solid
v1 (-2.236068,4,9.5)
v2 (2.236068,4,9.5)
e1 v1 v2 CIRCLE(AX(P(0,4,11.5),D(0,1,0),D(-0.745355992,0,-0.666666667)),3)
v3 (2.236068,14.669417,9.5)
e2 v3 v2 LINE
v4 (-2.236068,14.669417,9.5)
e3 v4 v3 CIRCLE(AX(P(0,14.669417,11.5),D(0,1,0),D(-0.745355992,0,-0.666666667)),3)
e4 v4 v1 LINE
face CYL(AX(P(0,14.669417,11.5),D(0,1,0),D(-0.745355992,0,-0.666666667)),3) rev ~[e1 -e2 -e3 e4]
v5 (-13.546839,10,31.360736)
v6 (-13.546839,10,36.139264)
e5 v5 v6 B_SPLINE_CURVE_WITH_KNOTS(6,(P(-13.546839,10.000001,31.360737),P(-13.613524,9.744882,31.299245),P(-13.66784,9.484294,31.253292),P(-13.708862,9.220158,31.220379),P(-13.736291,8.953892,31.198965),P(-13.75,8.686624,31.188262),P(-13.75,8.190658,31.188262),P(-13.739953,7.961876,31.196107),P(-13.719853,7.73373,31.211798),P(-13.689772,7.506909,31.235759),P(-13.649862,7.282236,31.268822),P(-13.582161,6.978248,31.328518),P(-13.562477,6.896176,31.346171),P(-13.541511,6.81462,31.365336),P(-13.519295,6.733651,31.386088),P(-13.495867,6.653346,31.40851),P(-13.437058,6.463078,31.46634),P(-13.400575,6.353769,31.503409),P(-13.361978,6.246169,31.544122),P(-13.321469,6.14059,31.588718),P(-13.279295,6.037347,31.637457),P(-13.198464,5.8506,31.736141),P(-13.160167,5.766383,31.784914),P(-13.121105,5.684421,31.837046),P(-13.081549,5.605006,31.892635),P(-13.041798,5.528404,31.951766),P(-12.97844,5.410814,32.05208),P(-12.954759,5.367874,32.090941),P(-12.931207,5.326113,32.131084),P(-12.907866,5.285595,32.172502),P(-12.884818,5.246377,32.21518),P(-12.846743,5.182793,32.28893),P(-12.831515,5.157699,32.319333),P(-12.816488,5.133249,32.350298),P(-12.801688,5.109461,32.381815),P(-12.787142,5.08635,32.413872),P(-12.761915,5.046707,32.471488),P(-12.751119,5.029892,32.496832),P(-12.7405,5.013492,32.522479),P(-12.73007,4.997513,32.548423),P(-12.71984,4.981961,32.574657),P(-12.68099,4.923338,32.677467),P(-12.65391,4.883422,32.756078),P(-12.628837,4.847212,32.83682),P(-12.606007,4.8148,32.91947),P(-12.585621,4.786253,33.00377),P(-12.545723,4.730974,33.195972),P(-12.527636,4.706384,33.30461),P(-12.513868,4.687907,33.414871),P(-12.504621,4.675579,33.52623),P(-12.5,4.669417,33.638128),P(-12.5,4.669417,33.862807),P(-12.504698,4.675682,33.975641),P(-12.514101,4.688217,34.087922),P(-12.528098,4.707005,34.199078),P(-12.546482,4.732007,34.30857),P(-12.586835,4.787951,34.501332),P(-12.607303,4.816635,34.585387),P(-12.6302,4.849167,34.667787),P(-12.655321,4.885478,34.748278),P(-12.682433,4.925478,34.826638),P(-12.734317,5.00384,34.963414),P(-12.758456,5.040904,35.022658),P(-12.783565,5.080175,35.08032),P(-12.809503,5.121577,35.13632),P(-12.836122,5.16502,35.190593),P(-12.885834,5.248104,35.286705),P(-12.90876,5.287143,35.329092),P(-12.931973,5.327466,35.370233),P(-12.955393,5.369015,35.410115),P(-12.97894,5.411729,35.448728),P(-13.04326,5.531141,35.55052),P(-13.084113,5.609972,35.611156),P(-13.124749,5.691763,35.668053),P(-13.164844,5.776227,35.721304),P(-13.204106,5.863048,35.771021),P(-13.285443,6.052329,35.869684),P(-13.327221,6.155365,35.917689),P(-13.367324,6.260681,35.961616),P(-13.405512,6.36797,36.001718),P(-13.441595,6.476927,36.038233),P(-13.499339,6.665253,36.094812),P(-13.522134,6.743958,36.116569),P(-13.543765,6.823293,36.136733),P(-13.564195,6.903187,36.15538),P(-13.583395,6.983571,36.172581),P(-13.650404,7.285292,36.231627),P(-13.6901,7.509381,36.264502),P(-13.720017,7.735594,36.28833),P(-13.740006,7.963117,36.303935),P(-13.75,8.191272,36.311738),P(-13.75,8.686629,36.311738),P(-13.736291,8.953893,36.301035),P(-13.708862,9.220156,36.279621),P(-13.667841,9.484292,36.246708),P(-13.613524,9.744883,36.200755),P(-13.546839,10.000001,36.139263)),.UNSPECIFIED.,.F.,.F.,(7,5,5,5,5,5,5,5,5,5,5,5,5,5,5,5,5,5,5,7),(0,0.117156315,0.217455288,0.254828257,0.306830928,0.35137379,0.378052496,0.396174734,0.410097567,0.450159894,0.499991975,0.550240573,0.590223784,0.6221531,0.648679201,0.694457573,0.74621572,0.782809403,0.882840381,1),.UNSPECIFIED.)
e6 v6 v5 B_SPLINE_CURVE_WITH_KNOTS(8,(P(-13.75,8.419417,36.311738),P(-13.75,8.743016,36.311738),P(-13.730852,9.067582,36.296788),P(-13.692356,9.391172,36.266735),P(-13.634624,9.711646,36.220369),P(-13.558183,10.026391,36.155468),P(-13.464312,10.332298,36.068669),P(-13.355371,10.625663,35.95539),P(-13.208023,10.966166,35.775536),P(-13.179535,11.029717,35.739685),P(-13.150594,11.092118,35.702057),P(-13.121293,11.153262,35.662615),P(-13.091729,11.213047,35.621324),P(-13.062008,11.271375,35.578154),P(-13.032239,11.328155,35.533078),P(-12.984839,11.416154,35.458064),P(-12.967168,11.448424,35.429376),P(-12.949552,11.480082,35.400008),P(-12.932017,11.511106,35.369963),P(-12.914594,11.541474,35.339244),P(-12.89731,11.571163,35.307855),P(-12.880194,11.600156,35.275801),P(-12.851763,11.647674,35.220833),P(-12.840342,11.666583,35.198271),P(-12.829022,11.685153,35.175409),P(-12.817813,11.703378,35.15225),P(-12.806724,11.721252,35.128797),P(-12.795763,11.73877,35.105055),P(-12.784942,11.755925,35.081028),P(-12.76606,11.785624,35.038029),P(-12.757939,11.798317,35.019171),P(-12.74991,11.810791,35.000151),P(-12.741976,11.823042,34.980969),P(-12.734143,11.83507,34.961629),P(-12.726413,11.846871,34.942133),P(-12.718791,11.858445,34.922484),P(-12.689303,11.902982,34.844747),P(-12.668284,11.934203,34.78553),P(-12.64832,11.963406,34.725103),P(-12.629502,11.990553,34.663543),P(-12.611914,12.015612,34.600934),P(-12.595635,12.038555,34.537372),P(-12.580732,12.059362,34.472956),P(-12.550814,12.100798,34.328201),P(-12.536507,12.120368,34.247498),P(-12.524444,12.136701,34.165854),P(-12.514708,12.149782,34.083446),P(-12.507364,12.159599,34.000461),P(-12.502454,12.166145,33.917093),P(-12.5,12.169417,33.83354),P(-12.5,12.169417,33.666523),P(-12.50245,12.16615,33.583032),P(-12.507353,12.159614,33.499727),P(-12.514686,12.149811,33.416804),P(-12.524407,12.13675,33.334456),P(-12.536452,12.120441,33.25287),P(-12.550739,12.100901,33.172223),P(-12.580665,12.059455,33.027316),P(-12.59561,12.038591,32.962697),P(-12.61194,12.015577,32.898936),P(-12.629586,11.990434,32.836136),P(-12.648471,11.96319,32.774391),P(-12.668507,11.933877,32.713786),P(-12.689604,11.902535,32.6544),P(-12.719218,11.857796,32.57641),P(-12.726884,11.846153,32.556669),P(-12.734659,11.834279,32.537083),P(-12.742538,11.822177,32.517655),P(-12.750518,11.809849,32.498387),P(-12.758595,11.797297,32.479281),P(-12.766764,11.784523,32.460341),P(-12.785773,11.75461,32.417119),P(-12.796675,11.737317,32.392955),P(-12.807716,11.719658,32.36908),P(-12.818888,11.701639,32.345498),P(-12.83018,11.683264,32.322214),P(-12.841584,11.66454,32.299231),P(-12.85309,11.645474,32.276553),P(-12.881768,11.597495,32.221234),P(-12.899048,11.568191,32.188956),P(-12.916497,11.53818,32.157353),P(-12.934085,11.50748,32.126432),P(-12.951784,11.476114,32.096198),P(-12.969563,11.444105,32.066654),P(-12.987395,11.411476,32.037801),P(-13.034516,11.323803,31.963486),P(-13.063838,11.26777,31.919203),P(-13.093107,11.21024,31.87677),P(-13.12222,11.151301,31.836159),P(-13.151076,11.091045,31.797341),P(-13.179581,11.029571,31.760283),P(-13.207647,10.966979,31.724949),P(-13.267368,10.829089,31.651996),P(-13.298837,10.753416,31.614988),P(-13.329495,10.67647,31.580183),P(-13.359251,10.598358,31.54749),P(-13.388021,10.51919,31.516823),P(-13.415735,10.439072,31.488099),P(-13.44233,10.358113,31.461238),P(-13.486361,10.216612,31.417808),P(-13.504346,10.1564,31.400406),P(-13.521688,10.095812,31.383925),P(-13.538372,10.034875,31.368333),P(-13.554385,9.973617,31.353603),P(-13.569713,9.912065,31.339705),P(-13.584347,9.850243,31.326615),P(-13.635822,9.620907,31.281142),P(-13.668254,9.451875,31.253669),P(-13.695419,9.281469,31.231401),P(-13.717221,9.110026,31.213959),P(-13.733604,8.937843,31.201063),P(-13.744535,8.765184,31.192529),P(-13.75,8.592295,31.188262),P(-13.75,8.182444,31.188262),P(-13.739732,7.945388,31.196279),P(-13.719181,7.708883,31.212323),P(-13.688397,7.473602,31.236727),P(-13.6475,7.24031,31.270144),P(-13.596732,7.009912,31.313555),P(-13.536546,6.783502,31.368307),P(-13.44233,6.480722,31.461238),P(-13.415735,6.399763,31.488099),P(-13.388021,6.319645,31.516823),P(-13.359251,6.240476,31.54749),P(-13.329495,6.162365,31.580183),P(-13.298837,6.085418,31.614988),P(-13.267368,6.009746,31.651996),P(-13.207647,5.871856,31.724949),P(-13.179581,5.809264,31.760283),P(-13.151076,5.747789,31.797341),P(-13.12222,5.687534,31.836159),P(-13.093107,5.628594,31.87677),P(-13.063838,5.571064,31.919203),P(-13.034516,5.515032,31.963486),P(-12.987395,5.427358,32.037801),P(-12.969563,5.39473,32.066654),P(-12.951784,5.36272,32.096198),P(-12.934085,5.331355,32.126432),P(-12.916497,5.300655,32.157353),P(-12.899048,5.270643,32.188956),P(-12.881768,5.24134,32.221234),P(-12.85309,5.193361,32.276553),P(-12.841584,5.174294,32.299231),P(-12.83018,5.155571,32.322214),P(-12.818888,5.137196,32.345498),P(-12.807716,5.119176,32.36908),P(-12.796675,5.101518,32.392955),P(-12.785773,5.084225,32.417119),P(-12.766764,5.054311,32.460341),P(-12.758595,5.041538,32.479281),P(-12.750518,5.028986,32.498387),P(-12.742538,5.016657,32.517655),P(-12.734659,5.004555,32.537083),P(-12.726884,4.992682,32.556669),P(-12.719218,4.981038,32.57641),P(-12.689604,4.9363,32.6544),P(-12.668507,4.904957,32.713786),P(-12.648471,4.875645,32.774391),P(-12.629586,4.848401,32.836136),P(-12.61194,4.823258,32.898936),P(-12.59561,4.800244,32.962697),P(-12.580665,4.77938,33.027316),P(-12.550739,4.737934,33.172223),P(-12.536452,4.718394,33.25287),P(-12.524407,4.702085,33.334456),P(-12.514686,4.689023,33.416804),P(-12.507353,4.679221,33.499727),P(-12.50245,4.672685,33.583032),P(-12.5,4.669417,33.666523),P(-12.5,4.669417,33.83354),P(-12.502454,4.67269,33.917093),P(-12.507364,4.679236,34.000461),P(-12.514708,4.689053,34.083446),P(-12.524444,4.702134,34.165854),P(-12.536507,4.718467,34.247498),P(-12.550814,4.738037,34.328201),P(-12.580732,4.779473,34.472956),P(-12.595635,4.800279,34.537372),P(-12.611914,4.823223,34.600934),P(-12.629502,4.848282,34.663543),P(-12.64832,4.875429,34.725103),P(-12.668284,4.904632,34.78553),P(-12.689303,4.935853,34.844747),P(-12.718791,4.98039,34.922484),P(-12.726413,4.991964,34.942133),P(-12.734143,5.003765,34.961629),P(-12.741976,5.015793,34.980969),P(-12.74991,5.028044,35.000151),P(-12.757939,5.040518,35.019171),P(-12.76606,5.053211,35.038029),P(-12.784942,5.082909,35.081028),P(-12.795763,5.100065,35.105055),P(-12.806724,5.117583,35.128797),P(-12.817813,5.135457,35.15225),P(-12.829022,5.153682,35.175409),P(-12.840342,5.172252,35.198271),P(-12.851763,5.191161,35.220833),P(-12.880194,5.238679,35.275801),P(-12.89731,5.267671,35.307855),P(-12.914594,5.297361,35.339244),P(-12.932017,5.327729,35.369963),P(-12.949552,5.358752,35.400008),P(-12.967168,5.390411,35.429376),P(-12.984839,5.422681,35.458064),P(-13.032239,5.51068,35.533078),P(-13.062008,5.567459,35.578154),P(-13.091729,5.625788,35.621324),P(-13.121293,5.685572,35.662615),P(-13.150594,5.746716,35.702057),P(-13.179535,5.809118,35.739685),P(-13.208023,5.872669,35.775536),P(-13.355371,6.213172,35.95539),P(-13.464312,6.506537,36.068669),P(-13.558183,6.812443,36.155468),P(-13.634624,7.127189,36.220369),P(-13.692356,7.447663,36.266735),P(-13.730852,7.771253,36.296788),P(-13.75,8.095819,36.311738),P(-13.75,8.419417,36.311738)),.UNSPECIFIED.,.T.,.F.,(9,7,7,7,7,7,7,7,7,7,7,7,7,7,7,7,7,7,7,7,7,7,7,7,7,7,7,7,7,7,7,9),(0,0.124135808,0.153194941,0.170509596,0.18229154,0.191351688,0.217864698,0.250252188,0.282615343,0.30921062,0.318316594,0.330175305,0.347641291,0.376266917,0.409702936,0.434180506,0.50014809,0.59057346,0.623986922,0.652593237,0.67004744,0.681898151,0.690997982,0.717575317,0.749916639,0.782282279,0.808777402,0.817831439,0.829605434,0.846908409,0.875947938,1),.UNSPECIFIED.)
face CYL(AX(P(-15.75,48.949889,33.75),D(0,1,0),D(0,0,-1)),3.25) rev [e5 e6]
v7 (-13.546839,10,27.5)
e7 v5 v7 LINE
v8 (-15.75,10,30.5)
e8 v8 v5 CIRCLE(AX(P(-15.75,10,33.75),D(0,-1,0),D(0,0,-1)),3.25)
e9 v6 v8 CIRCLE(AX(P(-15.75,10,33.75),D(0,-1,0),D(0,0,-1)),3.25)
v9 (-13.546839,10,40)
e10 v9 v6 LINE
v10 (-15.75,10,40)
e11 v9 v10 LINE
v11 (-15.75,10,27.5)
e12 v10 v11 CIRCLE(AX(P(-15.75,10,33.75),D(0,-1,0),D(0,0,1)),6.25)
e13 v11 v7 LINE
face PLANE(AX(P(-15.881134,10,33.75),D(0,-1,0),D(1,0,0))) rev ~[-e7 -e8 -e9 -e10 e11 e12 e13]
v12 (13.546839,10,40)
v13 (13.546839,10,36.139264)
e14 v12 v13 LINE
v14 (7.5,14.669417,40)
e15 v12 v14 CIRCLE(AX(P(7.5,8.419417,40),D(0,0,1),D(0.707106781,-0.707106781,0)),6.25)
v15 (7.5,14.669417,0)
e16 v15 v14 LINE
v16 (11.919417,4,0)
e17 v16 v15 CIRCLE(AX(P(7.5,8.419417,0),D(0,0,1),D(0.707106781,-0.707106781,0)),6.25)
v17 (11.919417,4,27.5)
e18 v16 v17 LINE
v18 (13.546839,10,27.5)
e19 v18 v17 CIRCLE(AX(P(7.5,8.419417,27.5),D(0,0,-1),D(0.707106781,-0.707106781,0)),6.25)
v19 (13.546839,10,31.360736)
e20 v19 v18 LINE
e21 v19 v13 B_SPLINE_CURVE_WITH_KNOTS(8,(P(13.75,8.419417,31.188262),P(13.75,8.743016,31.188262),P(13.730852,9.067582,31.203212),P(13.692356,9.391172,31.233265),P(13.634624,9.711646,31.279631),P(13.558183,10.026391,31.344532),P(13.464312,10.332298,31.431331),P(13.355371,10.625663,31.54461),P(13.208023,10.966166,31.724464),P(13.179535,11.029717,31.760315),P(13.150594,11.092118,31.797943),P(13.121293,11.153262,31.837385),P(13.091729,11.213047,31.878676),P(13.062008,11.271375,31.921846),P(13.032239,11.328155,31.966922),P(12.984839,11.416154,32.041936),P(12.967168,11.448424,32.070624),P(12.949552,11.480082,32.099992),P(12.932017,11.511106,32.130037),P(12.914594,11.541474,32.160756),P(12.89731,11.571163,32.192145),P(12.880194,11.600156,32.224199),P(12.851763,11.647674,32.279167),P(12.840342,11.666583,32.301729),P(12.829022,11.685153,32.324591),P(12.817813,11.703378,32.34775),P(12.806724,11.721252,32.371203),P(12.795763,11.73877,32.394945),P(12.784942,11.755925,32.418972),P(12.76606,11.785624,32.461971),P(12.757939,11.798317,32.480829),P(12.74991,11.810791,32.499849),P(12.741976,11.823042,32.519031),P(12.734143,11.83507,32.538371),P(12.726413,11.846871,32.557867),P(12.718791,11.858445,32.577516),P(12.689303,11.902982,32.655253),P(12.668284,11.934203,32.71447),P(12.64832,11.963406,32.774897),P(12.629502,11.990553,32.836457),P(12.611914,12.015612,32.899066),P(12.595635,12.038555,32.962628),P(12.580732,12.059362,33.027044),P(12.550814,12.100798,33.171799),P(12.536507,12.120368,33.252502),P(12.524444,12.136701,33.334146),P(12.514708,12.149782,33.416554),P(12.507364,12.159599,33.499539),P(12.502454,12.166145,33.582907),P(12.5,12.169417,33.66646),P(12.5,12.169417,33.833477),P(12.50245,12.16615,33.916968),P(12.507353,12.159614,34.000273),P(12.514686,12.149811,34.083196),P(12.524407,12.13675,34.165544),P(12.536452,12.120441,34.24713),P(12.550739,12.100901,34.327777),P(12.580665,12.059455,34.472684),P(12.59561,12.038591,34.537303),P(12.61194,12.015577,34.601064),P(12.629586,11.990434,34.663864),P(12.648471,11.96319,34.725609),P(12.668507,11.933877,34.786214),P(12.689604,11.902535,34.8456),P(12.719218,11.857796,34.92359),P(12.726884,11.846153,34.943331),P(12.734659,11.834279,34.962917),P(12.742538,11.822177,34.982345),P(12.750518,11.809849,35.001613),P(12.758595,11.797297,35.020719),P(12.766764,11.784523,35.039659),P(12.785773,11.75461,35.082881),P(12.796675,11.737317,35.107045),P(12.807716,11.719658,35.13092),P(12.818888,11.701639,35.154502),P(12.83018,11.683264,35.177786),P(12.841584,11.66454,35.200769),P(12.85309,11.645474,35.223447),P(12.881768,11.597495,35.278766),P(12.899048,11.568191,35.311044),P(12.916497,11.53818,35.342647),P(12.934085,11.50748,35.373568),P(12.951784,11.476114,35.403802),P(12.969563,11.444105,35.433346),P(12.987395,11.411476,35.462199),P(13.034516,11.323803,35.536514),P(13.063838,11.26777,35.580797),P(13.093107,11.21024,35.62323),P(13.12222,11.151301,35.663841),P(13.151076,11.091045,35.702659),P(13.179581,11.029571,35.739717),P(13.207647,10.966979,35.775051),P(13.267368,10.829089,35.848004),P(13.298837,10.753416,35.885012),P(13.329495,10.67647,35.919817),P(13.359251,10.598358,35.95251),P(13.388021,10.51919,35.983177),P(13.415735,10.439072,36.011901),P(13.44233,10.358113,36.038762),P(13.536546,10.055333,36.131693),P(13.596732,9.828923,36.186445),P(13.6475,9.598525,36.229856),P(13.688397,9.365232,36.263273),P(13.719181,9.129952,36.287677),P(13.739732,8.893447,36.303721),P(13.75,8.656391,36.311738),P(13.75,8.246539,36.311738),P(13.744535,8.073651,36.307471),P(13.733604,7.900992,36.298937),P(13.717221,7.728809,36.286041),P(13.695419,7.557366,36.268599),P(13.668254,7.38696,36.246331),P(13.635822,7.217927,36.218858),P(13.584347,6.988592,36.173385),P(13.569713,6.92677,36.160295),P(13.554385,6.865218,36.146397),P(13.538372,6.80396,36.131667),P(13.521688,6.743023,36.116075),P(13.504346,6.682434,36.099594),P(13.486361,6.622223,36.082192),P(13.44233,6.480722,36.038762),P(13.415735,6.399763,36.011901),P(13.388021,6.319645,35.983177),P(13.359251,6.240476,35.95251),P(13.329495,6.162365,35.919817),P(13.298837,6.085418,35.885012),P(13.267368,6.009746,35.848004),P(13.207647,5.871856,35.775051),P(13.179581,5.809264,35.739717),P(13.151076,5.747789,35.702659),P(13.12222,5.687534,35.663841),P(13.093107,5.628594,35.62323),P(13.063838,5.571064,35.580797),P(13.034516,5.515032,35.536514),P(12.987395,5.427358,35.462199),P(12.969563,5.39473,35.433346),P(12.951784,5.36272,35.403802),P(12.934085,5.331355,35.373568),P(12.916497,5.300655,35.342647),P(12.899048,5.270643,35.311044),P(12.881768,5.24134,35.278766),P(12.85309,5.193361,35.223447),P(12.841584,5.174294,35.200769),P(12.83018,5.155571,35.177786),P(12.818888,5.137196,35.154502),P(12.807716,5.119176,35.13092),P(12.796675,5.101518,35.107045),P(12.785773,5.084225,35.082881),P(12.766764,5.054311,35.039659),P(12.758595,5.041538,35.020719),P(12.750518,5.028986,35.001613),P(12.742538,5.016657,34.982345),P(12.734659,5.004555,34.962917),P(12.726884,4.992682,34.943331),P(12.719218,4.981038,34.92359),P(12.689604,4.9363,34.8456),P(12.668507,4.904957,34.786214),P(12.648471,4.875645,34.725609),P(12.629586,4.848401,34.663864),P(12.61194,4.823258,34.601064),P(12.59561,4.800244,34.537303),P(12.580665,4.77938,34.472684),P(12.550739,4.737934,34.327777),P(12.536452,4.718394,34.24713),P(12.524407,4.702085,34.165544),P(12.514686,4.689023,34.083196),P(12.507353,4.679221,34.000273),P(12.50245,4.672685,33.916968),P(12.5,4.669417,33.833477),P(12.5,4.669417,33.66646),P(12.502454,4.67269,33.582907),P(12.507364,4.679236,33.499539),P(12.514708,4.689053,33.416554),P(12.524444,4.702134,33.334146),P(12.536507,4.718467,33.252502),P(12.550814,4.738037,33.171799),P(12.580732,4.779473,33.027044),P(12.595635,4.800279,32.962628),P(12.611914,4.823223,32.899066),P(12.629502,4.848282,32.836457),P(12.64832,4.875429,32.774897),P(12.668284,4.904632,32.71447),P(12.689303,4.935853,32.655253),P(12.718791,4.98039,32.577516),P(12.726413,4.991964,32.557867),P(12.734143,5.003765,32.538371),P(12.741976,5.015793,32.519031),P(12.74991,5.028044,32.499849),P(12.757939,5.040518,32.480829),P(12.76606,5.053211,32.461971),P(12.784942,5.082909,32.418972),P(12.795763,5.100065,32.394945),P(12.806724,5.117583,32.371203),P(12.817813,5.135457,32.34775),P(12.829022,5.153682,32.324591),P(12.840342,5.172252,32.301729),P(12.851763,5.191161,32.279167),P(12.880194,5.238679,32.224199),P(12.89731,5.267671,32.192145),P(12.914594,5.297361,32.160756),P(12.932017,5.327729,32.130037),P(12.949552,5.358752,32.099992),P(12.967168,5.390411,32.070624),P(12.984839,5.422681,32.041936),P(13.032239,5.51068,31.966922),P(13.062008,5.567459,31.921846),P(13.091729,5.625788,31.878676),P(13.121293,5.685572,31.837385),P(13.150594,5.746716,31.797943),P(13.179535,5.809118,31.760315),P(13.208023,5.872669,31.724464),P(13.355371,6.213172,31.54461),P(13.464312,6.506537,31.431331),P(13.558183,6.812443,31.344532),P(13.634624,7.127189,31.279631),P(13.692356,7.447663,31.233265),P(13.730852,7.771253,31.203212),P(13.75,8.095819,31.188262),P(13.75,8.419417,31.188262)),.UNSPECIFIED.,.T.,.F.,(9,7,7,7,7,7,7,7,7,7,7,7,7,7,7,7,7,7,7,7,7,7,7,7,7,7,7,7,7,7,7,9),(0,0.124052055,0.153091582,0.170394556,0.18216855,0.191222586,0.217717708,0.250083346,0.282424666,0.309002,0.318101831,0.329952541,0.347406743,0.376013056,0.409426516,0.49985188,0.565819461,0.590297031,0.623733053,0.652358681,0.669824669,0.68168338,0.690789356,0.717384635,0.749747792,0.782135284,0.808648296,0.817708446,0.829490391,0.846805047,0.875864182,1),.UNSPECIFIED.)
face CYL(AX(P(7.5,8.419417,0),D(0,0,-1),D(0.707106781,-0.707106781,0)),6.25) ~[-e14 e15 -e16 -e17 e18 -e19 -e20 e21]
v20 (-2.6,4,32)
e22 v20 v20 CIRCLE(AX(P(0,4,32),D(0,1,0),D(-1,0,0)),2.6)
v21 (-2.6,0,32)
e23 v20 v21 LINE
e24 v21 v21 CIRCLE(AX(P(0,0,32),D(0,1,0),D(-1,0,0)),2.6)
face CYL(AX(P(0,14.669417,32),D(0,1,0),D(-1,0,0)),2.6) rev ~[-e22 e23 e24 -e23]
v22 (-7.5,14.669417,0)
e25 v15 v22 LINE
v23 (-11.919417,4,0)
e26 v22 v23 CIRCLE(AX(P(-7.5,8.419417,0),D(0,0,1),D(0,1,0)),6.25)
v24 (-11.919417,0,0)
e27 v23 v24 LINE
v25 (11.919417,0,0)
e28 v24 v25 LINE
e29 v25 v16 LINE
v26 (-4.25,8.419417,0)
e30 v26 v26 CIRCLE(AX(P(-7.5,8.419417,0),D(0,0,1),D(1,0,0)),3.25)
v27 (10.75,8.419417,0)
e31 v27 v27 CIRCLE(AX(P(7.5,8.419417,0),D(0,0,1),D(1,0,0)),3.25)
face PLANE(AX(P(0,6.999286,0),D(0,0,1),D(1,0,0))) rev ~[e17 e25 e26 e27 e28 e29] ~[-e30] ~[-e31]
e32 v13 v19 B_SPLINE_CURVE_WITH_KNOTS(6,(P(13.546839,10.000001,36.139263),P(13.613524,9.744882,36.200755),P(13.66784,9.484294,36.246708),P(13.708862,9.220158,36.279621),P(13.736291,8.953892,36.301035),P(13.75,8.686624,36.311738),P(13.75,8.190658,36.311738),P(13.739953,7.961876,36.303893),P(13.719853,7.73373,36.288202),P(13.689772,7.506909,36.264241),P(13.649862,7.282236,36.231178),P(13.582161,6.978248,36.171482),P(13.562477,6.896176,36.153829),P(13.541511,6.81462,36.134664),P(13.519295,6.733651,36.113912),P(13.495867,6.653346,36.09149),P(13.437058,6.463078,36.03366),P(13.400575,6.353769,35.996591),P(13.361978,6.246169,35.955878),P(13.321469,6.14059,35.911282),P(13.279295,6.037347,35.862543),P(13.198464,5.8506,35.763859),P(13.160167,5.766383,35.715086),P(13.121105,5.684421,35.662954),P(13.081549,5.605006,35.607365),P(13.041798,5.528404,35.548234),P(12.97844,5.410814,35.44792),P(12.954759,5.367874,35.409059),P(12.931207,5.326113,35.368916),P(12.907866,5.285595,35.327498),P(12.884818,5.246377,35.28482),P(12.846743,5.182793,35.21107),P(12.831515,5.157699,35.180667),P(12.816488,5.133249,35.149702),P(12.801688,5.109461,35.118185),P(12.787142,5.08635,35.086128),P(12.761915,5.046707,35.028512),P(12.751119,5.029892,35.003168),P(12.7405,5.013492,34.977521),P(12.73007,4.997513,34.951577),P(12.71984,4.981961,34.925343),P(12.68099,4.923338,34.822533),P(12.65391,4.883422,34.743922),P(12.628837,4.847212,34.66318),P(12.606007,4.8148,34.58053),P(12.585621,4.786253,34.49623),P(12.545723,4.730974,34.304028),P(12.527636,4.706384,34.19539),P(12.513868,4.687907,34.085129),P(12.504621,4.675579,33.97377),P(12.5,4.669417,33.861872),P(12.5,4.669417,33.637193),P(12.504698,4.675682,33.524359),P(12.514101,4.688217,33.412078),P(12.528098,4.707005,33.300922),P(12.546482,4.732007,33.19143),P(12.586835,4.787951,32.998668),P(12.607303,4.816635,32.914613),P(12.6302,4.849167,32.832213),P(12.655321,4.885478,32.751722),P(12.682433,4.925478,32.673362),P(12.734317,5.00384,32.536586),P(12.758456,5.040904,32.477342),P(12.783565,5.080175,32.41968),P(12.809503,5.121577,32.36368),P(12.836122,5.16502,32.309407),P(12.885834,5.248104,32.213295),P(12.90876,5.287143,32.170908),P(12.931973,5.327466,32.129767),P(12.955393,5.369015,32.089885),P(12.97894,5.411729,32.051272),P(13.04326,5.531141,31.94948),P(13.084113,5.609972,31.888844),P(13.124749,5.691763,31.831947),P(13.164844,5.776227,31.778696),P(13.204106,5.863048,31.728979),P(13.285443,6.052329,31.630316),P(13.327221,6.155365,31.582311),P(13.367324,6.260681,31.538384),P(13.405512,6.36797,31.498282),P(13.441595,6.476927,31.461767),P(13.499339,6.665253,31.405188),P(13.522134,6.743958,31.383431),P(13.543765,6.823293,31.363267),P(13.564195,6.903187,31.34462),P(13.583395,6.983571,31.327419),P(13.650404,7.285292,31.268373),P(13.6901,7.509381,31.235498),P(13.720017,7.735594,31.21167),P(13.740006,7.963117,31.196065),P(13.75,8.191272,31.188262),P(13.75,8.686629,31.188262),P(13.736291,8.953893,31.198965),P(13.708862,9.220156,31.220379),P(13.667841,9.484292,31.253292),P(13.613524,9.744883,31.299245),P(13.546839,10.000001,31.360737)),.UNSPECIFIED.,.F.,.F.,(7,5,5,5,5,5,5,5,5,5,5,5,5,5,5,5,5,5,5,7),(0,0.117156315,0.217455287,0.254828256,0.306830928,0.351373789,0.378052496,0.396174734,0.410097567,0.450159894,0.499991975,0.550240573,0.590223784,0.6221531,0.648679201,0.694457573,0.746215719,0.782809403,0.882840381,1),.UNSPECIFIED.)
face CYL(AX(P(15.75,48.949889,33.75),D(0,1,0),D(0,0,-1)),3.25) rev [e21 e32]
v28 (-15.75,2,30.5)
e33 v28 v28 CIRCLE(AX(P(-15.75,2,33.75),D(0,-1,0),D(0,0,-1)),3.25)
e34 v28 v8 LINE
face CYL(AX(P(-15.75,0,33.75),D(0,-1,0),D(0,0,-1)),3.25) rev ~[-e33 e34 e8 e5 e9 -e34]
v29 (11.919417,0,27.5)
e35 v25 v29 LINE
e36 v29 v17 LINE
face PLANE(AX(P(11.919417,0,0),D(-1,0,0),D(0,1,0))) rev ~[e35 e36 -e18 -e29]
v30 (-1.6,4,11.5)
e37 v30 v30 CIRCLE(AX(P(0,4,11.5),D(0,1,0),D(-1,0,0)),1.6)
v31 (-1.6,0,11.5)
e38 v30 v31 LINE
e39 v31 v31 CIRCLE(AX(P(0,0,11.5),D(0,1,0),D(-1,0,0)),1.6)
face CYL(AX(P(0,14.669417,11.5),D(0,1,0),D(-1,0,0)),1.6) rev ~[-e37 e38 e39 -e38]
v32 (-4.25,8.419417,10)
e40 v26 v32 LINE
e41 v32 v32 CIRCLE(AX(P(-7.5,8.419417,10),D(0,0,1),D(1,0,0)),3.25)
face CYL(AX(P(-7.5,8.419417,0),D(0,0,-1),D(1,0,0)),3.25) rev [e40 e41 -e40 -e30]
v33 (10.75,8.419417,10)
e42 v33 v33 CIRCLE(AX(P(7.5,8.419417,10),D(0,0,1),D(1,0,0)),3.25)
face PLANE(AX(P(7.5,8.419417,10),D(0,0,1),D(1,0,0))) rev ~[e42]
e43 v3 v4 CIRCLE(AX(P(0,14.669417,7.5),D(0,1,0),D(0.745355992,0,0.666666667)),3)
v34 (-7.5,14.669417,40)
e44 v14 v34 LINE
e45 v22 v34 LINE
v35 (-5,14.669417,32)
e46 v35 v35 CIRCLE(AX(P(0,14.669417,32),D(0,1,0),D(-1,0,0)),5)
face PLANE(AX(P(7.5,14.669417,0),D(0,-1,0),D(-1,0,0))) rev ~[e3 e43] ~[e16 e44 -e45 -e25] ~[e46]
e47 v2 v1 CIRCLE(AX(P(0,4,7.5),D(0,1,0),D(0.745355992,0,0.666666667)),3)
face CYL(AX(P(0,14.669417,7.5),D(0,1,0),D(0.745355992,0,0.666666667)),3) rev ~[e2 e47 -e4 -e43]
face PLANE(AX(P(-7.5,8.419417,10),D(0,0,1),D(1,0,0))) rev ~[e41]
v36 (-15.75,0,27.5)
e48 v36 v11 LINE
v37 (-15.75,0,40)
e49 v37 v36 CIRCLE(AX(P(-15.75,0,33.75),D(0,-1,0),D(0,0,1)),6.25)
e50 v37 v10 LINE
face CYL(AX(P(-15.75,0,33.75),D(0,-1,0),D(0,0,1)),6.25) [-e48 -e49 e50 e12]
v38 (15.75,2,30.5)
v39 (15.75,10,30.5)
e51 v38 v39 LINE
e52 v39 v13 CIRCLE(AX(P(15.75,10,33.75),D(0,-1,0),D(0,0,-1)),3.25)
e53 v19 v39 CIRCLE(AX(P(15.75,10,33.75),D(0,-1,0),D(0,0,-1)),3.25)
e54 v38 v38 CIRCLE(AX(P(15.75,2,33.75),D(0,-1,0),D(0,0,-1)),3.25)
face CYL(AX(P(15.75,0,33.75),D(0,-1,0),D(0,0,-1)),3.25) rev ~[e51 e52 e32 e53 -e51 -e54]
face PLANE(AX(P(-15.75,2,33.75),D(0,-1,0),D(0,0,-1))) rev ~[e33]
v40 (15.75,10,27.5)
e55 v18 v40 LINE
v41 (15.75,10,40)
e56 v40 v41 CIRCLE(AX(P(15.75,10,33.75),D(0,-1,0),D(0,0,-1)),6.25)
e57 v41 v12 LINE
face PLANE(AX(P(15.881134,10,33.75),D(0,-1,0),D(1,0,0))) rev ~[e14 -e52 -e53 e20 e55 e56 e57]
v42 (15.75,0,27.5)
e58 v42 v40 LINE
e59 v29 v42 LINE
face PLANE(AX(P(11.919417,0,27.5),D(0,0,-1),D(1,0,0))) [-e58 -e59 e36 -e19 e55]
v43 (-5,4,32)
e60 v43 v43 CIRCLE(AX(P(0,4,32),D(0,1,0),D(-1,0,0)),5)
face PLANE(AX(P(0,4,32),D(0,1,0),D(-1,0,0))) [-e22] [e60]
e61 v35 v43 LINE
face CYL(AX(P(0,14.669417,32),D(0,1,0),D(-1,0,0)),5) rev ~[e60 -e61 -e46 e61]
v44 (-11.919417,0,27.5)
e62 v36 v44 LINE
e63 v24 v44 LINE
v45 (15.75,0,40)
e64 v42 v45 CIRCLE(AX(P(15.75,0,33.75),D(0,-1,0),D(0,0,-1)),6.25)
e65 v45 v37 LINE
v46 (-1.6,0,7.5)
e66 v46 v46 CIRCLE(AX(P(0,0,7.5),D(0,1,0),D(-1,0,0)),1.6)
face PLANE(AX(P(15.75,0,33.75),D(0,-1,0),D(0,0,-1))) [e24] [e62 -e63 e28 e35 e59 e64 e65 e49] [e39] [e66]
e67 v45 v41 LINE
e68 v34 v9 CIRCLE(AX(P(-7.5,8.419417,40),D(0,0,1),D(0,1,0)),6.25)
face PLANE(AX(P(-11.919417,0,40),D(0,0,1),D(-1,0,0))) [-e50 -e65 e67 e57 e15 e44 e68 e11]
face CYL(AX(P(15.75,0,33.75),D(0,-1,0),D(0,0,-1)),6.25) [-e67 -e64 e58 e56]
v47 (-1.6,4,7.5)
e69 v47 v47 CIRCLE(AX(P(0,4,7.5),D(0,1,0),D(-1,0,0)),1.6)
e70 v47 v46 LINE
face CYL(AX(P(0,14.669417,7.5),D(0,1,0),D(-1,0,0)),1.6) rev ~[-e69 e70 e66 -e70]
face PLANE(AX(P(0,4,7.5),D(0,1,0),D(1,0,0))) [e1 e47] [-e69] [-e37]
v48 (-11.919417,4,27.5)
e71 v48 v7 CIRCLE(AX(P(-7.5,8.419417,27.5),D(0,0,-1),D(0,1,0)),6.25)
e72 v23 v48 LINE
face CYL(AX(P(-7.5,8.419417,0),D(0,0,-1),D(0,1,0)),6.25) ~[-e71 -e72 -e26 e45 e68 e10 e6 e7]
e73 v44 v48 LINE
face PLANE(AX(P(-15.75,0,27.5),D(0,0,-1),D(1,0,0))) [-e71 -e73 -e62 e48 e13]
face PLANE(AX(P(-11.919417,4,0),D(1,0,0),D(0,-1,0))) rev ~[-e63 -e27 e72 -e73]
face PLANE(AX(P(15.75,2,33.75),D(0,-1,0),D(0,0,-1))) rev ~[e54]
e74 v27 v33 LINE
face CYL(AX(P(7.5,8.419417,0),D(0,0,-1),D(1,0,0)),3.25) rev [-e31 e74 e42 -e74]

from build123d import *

# Parameters (mm, degrees)
SKETCH1_R               = 3.25
BOSS_EXTRUDE1_DEPTH     = 40
BOSS_EXTRUDE2_START     = -30
SKETCH10_R              = 3.25
BOSS_EXTRUDE2_DEPTH     = 30
SKETCH2_R               = 3
SKETCH2_R_2             = 5
CUT_EXTRUDE1_DEPTH      = 10.669417382
SKETCH8_R               = 1.6
SKETCH8_R_2             = 2.6
CUT_EXTRUDE2_DEPTH      = 45.768898873
SKETCH11_R              = 3.25
BOSS_EXTRUDE3_DEPTH     = 10
CUT_EXTRUDE3_DEPTH      = 48.949888605
CUT_EXTRUDE3_DEPTH_BACK = 48.949888605
SKETCH12_R              = 3.25
SKETCH13_R              = 3.25
BOSS_EXTRUDE4_DEPTH     = 2


with BuildPart() as part:
    # Sketch1 → Boss-Extrude1 (new body)
    with BuildSketch(Plane.XY):
        with BuildLine():
            Line((-11.919417382, 0), (11.919417382, 0))
            Line((11.919417382, 0), (11.919417382, 4))
            ThreePointArc((11.919417382, 4), (13.274247078, 10.811188835), (7.5, 14.669417382))
            Line((7.5, 14.669417382), (-7.5, 14.669417382))
            ThreePointArc((-7.5, 14.669417382), (-13.274247078, 10.811188835), (-11.919417382, 4))
            Line((-11.919417382, 4), (-11.919417382, 0))
        make_face()
        with Locations((7.5, 8.419417382)):
            Circle(SKETCH1_R, mode=Mode.SUBTRACT)
        with Locations((-7.5, 8.419417382)):
            Circle(SKETCH1_R, mode=Mode.SUBTRACT)
    extrude(amount=BOSS_EXTRUDE1_DEPTH)

    # Sketch10 → Boss-Extrude2 (add)
    with BuildSketch(Plane.XY.offset(40).offset(BOSS_EXTRUDE2_START)):
        with Locations((7.5, 8.419417382)):
            Circle(SKETCH10_R)
        with Locations((-7.5, 8.419417382)):
            Circle(SKETCH10_R)
    extrude(amount=BOSS_EXTRUDE2_DEPTH)

    # Sketch2 → Cut-Extrude1 (cut)
    with BuildSketch(Plane(origin=(0, 14.669417382, 0), x_dir=(1, 0, 0), z_dir=(0, 1, 0))):
        with Locations((0, -7.5)):
            Circle(SKETCH2_R)
        with Locations((0, -11.5)):
            Circle(SKETCH2_R)
        with Locations(Location((0, -32, 0), (0, 0, 180))):
            Circle(SKETCH2_R_2)
    extrude(amount=-CUT_EXTRUDE1_DEPTH, mode=Mode.SUBTRACT)

    # Sketch8 → Cut-Extrude2 (cut, through all)
    with BuildSketch(Plane(origin=(0, 14.669417382, 0), x_dir=(1, 0, 0), z_dir=(0, 1, 0))):
        with Locations(Location((0, -7.5, 0), (0, 0, 180))):
            Circle(SKETCH8_R)
        with Locations(Location((0, -11.5, 0), (0, 0, 180))):
            Circle(SKETCH8_R)
        with Locations(Location((0, -32, 0), (0, 0, 180))):
            Circle(SKETCH8_R_2)
    extrude(amount=-CUT_EXTRUDE2_DEPTH, mode=Mode.SUBTRACT)

    # Sketch11 → Boss-Extrude3 (add)
    # profile 1 of 2: a face of its own
    with BuildSketch(Plane.XZ):
        with BuildLine():
            Line((-15.75, 27.5), (-11.919417382, 27.5))
            Line((-11.919417382, 27.5), (-11.919417382, 40))
            Line((-11.919417382, 40), (-15.75, 40))
            ThreePointArc((-15.75, 40), (-22, 33.75), (-15.75, 27.5))
        make_face()
        with Locations(Location((-15.75, 33.75, 0), (0, 0, 270))):
            Circle(SKETCH11_R, mode=Mode.SUBTRACT)
    # profile 2 of 2: a face of its own
    with BuildSketch(Plane.XZ):
        with BuildLine():
            Line((15.75, 40), (11.919417382, 40))
            Line((11.919417382, 40), (11.919417382, 27.5))
            Line((11.919417382, 27.5), (15.75, 27.5))
            ThreePointArc((15.75, 27.5), (22, 33.75), (15.75, 40))
        make_face()
        with Locations(Location((15.75, 33.75, 0), (0, 0, 270))):
            Circle(SKETCH11_R, mode=Mode.SUBTRACT)
    extrude(amount=-BOSS_EXTRUDE3_DEPTH)

    # Sketch12 → Cut-Extrude3 (cut, two sides: drawn at the far end of the back side and taken through both)
    with BuildSketch(Plane.XZ.offset(-CUT_EXTRUDE3_DEPTH_BACK)):
        with Locations(Location((15.75, 33.75, 0), (0, 0, 270))):
            Circle(SKETCH12_R)
        with Locations(Location((-15.75, 33.75, 0), (0, 0, 270))):
            Circle(SKETCH12_R)
    extrude(amount=CUT_EXTRUDE3_DEPTH + CUT_EXTRUDE3_DEPTH_BACK, mode=Mode.SUBTRACT)

    # Sketch13 → Boss-Extrude4 (add)
    with BuildSketch(Plane.XZ):
        with Locations(Location((15.75, 33.75, 0), (0, 0, 270))):
            Circle(SKETCH13_R)
        with Locations(Location((-15.75, 33.75, 0), (0, 0, 270))):
            Circle(SKETCH13_R)
    extrude(amount=-BOSS_EXTRUDE4_DEPTH)


solid = part.part
